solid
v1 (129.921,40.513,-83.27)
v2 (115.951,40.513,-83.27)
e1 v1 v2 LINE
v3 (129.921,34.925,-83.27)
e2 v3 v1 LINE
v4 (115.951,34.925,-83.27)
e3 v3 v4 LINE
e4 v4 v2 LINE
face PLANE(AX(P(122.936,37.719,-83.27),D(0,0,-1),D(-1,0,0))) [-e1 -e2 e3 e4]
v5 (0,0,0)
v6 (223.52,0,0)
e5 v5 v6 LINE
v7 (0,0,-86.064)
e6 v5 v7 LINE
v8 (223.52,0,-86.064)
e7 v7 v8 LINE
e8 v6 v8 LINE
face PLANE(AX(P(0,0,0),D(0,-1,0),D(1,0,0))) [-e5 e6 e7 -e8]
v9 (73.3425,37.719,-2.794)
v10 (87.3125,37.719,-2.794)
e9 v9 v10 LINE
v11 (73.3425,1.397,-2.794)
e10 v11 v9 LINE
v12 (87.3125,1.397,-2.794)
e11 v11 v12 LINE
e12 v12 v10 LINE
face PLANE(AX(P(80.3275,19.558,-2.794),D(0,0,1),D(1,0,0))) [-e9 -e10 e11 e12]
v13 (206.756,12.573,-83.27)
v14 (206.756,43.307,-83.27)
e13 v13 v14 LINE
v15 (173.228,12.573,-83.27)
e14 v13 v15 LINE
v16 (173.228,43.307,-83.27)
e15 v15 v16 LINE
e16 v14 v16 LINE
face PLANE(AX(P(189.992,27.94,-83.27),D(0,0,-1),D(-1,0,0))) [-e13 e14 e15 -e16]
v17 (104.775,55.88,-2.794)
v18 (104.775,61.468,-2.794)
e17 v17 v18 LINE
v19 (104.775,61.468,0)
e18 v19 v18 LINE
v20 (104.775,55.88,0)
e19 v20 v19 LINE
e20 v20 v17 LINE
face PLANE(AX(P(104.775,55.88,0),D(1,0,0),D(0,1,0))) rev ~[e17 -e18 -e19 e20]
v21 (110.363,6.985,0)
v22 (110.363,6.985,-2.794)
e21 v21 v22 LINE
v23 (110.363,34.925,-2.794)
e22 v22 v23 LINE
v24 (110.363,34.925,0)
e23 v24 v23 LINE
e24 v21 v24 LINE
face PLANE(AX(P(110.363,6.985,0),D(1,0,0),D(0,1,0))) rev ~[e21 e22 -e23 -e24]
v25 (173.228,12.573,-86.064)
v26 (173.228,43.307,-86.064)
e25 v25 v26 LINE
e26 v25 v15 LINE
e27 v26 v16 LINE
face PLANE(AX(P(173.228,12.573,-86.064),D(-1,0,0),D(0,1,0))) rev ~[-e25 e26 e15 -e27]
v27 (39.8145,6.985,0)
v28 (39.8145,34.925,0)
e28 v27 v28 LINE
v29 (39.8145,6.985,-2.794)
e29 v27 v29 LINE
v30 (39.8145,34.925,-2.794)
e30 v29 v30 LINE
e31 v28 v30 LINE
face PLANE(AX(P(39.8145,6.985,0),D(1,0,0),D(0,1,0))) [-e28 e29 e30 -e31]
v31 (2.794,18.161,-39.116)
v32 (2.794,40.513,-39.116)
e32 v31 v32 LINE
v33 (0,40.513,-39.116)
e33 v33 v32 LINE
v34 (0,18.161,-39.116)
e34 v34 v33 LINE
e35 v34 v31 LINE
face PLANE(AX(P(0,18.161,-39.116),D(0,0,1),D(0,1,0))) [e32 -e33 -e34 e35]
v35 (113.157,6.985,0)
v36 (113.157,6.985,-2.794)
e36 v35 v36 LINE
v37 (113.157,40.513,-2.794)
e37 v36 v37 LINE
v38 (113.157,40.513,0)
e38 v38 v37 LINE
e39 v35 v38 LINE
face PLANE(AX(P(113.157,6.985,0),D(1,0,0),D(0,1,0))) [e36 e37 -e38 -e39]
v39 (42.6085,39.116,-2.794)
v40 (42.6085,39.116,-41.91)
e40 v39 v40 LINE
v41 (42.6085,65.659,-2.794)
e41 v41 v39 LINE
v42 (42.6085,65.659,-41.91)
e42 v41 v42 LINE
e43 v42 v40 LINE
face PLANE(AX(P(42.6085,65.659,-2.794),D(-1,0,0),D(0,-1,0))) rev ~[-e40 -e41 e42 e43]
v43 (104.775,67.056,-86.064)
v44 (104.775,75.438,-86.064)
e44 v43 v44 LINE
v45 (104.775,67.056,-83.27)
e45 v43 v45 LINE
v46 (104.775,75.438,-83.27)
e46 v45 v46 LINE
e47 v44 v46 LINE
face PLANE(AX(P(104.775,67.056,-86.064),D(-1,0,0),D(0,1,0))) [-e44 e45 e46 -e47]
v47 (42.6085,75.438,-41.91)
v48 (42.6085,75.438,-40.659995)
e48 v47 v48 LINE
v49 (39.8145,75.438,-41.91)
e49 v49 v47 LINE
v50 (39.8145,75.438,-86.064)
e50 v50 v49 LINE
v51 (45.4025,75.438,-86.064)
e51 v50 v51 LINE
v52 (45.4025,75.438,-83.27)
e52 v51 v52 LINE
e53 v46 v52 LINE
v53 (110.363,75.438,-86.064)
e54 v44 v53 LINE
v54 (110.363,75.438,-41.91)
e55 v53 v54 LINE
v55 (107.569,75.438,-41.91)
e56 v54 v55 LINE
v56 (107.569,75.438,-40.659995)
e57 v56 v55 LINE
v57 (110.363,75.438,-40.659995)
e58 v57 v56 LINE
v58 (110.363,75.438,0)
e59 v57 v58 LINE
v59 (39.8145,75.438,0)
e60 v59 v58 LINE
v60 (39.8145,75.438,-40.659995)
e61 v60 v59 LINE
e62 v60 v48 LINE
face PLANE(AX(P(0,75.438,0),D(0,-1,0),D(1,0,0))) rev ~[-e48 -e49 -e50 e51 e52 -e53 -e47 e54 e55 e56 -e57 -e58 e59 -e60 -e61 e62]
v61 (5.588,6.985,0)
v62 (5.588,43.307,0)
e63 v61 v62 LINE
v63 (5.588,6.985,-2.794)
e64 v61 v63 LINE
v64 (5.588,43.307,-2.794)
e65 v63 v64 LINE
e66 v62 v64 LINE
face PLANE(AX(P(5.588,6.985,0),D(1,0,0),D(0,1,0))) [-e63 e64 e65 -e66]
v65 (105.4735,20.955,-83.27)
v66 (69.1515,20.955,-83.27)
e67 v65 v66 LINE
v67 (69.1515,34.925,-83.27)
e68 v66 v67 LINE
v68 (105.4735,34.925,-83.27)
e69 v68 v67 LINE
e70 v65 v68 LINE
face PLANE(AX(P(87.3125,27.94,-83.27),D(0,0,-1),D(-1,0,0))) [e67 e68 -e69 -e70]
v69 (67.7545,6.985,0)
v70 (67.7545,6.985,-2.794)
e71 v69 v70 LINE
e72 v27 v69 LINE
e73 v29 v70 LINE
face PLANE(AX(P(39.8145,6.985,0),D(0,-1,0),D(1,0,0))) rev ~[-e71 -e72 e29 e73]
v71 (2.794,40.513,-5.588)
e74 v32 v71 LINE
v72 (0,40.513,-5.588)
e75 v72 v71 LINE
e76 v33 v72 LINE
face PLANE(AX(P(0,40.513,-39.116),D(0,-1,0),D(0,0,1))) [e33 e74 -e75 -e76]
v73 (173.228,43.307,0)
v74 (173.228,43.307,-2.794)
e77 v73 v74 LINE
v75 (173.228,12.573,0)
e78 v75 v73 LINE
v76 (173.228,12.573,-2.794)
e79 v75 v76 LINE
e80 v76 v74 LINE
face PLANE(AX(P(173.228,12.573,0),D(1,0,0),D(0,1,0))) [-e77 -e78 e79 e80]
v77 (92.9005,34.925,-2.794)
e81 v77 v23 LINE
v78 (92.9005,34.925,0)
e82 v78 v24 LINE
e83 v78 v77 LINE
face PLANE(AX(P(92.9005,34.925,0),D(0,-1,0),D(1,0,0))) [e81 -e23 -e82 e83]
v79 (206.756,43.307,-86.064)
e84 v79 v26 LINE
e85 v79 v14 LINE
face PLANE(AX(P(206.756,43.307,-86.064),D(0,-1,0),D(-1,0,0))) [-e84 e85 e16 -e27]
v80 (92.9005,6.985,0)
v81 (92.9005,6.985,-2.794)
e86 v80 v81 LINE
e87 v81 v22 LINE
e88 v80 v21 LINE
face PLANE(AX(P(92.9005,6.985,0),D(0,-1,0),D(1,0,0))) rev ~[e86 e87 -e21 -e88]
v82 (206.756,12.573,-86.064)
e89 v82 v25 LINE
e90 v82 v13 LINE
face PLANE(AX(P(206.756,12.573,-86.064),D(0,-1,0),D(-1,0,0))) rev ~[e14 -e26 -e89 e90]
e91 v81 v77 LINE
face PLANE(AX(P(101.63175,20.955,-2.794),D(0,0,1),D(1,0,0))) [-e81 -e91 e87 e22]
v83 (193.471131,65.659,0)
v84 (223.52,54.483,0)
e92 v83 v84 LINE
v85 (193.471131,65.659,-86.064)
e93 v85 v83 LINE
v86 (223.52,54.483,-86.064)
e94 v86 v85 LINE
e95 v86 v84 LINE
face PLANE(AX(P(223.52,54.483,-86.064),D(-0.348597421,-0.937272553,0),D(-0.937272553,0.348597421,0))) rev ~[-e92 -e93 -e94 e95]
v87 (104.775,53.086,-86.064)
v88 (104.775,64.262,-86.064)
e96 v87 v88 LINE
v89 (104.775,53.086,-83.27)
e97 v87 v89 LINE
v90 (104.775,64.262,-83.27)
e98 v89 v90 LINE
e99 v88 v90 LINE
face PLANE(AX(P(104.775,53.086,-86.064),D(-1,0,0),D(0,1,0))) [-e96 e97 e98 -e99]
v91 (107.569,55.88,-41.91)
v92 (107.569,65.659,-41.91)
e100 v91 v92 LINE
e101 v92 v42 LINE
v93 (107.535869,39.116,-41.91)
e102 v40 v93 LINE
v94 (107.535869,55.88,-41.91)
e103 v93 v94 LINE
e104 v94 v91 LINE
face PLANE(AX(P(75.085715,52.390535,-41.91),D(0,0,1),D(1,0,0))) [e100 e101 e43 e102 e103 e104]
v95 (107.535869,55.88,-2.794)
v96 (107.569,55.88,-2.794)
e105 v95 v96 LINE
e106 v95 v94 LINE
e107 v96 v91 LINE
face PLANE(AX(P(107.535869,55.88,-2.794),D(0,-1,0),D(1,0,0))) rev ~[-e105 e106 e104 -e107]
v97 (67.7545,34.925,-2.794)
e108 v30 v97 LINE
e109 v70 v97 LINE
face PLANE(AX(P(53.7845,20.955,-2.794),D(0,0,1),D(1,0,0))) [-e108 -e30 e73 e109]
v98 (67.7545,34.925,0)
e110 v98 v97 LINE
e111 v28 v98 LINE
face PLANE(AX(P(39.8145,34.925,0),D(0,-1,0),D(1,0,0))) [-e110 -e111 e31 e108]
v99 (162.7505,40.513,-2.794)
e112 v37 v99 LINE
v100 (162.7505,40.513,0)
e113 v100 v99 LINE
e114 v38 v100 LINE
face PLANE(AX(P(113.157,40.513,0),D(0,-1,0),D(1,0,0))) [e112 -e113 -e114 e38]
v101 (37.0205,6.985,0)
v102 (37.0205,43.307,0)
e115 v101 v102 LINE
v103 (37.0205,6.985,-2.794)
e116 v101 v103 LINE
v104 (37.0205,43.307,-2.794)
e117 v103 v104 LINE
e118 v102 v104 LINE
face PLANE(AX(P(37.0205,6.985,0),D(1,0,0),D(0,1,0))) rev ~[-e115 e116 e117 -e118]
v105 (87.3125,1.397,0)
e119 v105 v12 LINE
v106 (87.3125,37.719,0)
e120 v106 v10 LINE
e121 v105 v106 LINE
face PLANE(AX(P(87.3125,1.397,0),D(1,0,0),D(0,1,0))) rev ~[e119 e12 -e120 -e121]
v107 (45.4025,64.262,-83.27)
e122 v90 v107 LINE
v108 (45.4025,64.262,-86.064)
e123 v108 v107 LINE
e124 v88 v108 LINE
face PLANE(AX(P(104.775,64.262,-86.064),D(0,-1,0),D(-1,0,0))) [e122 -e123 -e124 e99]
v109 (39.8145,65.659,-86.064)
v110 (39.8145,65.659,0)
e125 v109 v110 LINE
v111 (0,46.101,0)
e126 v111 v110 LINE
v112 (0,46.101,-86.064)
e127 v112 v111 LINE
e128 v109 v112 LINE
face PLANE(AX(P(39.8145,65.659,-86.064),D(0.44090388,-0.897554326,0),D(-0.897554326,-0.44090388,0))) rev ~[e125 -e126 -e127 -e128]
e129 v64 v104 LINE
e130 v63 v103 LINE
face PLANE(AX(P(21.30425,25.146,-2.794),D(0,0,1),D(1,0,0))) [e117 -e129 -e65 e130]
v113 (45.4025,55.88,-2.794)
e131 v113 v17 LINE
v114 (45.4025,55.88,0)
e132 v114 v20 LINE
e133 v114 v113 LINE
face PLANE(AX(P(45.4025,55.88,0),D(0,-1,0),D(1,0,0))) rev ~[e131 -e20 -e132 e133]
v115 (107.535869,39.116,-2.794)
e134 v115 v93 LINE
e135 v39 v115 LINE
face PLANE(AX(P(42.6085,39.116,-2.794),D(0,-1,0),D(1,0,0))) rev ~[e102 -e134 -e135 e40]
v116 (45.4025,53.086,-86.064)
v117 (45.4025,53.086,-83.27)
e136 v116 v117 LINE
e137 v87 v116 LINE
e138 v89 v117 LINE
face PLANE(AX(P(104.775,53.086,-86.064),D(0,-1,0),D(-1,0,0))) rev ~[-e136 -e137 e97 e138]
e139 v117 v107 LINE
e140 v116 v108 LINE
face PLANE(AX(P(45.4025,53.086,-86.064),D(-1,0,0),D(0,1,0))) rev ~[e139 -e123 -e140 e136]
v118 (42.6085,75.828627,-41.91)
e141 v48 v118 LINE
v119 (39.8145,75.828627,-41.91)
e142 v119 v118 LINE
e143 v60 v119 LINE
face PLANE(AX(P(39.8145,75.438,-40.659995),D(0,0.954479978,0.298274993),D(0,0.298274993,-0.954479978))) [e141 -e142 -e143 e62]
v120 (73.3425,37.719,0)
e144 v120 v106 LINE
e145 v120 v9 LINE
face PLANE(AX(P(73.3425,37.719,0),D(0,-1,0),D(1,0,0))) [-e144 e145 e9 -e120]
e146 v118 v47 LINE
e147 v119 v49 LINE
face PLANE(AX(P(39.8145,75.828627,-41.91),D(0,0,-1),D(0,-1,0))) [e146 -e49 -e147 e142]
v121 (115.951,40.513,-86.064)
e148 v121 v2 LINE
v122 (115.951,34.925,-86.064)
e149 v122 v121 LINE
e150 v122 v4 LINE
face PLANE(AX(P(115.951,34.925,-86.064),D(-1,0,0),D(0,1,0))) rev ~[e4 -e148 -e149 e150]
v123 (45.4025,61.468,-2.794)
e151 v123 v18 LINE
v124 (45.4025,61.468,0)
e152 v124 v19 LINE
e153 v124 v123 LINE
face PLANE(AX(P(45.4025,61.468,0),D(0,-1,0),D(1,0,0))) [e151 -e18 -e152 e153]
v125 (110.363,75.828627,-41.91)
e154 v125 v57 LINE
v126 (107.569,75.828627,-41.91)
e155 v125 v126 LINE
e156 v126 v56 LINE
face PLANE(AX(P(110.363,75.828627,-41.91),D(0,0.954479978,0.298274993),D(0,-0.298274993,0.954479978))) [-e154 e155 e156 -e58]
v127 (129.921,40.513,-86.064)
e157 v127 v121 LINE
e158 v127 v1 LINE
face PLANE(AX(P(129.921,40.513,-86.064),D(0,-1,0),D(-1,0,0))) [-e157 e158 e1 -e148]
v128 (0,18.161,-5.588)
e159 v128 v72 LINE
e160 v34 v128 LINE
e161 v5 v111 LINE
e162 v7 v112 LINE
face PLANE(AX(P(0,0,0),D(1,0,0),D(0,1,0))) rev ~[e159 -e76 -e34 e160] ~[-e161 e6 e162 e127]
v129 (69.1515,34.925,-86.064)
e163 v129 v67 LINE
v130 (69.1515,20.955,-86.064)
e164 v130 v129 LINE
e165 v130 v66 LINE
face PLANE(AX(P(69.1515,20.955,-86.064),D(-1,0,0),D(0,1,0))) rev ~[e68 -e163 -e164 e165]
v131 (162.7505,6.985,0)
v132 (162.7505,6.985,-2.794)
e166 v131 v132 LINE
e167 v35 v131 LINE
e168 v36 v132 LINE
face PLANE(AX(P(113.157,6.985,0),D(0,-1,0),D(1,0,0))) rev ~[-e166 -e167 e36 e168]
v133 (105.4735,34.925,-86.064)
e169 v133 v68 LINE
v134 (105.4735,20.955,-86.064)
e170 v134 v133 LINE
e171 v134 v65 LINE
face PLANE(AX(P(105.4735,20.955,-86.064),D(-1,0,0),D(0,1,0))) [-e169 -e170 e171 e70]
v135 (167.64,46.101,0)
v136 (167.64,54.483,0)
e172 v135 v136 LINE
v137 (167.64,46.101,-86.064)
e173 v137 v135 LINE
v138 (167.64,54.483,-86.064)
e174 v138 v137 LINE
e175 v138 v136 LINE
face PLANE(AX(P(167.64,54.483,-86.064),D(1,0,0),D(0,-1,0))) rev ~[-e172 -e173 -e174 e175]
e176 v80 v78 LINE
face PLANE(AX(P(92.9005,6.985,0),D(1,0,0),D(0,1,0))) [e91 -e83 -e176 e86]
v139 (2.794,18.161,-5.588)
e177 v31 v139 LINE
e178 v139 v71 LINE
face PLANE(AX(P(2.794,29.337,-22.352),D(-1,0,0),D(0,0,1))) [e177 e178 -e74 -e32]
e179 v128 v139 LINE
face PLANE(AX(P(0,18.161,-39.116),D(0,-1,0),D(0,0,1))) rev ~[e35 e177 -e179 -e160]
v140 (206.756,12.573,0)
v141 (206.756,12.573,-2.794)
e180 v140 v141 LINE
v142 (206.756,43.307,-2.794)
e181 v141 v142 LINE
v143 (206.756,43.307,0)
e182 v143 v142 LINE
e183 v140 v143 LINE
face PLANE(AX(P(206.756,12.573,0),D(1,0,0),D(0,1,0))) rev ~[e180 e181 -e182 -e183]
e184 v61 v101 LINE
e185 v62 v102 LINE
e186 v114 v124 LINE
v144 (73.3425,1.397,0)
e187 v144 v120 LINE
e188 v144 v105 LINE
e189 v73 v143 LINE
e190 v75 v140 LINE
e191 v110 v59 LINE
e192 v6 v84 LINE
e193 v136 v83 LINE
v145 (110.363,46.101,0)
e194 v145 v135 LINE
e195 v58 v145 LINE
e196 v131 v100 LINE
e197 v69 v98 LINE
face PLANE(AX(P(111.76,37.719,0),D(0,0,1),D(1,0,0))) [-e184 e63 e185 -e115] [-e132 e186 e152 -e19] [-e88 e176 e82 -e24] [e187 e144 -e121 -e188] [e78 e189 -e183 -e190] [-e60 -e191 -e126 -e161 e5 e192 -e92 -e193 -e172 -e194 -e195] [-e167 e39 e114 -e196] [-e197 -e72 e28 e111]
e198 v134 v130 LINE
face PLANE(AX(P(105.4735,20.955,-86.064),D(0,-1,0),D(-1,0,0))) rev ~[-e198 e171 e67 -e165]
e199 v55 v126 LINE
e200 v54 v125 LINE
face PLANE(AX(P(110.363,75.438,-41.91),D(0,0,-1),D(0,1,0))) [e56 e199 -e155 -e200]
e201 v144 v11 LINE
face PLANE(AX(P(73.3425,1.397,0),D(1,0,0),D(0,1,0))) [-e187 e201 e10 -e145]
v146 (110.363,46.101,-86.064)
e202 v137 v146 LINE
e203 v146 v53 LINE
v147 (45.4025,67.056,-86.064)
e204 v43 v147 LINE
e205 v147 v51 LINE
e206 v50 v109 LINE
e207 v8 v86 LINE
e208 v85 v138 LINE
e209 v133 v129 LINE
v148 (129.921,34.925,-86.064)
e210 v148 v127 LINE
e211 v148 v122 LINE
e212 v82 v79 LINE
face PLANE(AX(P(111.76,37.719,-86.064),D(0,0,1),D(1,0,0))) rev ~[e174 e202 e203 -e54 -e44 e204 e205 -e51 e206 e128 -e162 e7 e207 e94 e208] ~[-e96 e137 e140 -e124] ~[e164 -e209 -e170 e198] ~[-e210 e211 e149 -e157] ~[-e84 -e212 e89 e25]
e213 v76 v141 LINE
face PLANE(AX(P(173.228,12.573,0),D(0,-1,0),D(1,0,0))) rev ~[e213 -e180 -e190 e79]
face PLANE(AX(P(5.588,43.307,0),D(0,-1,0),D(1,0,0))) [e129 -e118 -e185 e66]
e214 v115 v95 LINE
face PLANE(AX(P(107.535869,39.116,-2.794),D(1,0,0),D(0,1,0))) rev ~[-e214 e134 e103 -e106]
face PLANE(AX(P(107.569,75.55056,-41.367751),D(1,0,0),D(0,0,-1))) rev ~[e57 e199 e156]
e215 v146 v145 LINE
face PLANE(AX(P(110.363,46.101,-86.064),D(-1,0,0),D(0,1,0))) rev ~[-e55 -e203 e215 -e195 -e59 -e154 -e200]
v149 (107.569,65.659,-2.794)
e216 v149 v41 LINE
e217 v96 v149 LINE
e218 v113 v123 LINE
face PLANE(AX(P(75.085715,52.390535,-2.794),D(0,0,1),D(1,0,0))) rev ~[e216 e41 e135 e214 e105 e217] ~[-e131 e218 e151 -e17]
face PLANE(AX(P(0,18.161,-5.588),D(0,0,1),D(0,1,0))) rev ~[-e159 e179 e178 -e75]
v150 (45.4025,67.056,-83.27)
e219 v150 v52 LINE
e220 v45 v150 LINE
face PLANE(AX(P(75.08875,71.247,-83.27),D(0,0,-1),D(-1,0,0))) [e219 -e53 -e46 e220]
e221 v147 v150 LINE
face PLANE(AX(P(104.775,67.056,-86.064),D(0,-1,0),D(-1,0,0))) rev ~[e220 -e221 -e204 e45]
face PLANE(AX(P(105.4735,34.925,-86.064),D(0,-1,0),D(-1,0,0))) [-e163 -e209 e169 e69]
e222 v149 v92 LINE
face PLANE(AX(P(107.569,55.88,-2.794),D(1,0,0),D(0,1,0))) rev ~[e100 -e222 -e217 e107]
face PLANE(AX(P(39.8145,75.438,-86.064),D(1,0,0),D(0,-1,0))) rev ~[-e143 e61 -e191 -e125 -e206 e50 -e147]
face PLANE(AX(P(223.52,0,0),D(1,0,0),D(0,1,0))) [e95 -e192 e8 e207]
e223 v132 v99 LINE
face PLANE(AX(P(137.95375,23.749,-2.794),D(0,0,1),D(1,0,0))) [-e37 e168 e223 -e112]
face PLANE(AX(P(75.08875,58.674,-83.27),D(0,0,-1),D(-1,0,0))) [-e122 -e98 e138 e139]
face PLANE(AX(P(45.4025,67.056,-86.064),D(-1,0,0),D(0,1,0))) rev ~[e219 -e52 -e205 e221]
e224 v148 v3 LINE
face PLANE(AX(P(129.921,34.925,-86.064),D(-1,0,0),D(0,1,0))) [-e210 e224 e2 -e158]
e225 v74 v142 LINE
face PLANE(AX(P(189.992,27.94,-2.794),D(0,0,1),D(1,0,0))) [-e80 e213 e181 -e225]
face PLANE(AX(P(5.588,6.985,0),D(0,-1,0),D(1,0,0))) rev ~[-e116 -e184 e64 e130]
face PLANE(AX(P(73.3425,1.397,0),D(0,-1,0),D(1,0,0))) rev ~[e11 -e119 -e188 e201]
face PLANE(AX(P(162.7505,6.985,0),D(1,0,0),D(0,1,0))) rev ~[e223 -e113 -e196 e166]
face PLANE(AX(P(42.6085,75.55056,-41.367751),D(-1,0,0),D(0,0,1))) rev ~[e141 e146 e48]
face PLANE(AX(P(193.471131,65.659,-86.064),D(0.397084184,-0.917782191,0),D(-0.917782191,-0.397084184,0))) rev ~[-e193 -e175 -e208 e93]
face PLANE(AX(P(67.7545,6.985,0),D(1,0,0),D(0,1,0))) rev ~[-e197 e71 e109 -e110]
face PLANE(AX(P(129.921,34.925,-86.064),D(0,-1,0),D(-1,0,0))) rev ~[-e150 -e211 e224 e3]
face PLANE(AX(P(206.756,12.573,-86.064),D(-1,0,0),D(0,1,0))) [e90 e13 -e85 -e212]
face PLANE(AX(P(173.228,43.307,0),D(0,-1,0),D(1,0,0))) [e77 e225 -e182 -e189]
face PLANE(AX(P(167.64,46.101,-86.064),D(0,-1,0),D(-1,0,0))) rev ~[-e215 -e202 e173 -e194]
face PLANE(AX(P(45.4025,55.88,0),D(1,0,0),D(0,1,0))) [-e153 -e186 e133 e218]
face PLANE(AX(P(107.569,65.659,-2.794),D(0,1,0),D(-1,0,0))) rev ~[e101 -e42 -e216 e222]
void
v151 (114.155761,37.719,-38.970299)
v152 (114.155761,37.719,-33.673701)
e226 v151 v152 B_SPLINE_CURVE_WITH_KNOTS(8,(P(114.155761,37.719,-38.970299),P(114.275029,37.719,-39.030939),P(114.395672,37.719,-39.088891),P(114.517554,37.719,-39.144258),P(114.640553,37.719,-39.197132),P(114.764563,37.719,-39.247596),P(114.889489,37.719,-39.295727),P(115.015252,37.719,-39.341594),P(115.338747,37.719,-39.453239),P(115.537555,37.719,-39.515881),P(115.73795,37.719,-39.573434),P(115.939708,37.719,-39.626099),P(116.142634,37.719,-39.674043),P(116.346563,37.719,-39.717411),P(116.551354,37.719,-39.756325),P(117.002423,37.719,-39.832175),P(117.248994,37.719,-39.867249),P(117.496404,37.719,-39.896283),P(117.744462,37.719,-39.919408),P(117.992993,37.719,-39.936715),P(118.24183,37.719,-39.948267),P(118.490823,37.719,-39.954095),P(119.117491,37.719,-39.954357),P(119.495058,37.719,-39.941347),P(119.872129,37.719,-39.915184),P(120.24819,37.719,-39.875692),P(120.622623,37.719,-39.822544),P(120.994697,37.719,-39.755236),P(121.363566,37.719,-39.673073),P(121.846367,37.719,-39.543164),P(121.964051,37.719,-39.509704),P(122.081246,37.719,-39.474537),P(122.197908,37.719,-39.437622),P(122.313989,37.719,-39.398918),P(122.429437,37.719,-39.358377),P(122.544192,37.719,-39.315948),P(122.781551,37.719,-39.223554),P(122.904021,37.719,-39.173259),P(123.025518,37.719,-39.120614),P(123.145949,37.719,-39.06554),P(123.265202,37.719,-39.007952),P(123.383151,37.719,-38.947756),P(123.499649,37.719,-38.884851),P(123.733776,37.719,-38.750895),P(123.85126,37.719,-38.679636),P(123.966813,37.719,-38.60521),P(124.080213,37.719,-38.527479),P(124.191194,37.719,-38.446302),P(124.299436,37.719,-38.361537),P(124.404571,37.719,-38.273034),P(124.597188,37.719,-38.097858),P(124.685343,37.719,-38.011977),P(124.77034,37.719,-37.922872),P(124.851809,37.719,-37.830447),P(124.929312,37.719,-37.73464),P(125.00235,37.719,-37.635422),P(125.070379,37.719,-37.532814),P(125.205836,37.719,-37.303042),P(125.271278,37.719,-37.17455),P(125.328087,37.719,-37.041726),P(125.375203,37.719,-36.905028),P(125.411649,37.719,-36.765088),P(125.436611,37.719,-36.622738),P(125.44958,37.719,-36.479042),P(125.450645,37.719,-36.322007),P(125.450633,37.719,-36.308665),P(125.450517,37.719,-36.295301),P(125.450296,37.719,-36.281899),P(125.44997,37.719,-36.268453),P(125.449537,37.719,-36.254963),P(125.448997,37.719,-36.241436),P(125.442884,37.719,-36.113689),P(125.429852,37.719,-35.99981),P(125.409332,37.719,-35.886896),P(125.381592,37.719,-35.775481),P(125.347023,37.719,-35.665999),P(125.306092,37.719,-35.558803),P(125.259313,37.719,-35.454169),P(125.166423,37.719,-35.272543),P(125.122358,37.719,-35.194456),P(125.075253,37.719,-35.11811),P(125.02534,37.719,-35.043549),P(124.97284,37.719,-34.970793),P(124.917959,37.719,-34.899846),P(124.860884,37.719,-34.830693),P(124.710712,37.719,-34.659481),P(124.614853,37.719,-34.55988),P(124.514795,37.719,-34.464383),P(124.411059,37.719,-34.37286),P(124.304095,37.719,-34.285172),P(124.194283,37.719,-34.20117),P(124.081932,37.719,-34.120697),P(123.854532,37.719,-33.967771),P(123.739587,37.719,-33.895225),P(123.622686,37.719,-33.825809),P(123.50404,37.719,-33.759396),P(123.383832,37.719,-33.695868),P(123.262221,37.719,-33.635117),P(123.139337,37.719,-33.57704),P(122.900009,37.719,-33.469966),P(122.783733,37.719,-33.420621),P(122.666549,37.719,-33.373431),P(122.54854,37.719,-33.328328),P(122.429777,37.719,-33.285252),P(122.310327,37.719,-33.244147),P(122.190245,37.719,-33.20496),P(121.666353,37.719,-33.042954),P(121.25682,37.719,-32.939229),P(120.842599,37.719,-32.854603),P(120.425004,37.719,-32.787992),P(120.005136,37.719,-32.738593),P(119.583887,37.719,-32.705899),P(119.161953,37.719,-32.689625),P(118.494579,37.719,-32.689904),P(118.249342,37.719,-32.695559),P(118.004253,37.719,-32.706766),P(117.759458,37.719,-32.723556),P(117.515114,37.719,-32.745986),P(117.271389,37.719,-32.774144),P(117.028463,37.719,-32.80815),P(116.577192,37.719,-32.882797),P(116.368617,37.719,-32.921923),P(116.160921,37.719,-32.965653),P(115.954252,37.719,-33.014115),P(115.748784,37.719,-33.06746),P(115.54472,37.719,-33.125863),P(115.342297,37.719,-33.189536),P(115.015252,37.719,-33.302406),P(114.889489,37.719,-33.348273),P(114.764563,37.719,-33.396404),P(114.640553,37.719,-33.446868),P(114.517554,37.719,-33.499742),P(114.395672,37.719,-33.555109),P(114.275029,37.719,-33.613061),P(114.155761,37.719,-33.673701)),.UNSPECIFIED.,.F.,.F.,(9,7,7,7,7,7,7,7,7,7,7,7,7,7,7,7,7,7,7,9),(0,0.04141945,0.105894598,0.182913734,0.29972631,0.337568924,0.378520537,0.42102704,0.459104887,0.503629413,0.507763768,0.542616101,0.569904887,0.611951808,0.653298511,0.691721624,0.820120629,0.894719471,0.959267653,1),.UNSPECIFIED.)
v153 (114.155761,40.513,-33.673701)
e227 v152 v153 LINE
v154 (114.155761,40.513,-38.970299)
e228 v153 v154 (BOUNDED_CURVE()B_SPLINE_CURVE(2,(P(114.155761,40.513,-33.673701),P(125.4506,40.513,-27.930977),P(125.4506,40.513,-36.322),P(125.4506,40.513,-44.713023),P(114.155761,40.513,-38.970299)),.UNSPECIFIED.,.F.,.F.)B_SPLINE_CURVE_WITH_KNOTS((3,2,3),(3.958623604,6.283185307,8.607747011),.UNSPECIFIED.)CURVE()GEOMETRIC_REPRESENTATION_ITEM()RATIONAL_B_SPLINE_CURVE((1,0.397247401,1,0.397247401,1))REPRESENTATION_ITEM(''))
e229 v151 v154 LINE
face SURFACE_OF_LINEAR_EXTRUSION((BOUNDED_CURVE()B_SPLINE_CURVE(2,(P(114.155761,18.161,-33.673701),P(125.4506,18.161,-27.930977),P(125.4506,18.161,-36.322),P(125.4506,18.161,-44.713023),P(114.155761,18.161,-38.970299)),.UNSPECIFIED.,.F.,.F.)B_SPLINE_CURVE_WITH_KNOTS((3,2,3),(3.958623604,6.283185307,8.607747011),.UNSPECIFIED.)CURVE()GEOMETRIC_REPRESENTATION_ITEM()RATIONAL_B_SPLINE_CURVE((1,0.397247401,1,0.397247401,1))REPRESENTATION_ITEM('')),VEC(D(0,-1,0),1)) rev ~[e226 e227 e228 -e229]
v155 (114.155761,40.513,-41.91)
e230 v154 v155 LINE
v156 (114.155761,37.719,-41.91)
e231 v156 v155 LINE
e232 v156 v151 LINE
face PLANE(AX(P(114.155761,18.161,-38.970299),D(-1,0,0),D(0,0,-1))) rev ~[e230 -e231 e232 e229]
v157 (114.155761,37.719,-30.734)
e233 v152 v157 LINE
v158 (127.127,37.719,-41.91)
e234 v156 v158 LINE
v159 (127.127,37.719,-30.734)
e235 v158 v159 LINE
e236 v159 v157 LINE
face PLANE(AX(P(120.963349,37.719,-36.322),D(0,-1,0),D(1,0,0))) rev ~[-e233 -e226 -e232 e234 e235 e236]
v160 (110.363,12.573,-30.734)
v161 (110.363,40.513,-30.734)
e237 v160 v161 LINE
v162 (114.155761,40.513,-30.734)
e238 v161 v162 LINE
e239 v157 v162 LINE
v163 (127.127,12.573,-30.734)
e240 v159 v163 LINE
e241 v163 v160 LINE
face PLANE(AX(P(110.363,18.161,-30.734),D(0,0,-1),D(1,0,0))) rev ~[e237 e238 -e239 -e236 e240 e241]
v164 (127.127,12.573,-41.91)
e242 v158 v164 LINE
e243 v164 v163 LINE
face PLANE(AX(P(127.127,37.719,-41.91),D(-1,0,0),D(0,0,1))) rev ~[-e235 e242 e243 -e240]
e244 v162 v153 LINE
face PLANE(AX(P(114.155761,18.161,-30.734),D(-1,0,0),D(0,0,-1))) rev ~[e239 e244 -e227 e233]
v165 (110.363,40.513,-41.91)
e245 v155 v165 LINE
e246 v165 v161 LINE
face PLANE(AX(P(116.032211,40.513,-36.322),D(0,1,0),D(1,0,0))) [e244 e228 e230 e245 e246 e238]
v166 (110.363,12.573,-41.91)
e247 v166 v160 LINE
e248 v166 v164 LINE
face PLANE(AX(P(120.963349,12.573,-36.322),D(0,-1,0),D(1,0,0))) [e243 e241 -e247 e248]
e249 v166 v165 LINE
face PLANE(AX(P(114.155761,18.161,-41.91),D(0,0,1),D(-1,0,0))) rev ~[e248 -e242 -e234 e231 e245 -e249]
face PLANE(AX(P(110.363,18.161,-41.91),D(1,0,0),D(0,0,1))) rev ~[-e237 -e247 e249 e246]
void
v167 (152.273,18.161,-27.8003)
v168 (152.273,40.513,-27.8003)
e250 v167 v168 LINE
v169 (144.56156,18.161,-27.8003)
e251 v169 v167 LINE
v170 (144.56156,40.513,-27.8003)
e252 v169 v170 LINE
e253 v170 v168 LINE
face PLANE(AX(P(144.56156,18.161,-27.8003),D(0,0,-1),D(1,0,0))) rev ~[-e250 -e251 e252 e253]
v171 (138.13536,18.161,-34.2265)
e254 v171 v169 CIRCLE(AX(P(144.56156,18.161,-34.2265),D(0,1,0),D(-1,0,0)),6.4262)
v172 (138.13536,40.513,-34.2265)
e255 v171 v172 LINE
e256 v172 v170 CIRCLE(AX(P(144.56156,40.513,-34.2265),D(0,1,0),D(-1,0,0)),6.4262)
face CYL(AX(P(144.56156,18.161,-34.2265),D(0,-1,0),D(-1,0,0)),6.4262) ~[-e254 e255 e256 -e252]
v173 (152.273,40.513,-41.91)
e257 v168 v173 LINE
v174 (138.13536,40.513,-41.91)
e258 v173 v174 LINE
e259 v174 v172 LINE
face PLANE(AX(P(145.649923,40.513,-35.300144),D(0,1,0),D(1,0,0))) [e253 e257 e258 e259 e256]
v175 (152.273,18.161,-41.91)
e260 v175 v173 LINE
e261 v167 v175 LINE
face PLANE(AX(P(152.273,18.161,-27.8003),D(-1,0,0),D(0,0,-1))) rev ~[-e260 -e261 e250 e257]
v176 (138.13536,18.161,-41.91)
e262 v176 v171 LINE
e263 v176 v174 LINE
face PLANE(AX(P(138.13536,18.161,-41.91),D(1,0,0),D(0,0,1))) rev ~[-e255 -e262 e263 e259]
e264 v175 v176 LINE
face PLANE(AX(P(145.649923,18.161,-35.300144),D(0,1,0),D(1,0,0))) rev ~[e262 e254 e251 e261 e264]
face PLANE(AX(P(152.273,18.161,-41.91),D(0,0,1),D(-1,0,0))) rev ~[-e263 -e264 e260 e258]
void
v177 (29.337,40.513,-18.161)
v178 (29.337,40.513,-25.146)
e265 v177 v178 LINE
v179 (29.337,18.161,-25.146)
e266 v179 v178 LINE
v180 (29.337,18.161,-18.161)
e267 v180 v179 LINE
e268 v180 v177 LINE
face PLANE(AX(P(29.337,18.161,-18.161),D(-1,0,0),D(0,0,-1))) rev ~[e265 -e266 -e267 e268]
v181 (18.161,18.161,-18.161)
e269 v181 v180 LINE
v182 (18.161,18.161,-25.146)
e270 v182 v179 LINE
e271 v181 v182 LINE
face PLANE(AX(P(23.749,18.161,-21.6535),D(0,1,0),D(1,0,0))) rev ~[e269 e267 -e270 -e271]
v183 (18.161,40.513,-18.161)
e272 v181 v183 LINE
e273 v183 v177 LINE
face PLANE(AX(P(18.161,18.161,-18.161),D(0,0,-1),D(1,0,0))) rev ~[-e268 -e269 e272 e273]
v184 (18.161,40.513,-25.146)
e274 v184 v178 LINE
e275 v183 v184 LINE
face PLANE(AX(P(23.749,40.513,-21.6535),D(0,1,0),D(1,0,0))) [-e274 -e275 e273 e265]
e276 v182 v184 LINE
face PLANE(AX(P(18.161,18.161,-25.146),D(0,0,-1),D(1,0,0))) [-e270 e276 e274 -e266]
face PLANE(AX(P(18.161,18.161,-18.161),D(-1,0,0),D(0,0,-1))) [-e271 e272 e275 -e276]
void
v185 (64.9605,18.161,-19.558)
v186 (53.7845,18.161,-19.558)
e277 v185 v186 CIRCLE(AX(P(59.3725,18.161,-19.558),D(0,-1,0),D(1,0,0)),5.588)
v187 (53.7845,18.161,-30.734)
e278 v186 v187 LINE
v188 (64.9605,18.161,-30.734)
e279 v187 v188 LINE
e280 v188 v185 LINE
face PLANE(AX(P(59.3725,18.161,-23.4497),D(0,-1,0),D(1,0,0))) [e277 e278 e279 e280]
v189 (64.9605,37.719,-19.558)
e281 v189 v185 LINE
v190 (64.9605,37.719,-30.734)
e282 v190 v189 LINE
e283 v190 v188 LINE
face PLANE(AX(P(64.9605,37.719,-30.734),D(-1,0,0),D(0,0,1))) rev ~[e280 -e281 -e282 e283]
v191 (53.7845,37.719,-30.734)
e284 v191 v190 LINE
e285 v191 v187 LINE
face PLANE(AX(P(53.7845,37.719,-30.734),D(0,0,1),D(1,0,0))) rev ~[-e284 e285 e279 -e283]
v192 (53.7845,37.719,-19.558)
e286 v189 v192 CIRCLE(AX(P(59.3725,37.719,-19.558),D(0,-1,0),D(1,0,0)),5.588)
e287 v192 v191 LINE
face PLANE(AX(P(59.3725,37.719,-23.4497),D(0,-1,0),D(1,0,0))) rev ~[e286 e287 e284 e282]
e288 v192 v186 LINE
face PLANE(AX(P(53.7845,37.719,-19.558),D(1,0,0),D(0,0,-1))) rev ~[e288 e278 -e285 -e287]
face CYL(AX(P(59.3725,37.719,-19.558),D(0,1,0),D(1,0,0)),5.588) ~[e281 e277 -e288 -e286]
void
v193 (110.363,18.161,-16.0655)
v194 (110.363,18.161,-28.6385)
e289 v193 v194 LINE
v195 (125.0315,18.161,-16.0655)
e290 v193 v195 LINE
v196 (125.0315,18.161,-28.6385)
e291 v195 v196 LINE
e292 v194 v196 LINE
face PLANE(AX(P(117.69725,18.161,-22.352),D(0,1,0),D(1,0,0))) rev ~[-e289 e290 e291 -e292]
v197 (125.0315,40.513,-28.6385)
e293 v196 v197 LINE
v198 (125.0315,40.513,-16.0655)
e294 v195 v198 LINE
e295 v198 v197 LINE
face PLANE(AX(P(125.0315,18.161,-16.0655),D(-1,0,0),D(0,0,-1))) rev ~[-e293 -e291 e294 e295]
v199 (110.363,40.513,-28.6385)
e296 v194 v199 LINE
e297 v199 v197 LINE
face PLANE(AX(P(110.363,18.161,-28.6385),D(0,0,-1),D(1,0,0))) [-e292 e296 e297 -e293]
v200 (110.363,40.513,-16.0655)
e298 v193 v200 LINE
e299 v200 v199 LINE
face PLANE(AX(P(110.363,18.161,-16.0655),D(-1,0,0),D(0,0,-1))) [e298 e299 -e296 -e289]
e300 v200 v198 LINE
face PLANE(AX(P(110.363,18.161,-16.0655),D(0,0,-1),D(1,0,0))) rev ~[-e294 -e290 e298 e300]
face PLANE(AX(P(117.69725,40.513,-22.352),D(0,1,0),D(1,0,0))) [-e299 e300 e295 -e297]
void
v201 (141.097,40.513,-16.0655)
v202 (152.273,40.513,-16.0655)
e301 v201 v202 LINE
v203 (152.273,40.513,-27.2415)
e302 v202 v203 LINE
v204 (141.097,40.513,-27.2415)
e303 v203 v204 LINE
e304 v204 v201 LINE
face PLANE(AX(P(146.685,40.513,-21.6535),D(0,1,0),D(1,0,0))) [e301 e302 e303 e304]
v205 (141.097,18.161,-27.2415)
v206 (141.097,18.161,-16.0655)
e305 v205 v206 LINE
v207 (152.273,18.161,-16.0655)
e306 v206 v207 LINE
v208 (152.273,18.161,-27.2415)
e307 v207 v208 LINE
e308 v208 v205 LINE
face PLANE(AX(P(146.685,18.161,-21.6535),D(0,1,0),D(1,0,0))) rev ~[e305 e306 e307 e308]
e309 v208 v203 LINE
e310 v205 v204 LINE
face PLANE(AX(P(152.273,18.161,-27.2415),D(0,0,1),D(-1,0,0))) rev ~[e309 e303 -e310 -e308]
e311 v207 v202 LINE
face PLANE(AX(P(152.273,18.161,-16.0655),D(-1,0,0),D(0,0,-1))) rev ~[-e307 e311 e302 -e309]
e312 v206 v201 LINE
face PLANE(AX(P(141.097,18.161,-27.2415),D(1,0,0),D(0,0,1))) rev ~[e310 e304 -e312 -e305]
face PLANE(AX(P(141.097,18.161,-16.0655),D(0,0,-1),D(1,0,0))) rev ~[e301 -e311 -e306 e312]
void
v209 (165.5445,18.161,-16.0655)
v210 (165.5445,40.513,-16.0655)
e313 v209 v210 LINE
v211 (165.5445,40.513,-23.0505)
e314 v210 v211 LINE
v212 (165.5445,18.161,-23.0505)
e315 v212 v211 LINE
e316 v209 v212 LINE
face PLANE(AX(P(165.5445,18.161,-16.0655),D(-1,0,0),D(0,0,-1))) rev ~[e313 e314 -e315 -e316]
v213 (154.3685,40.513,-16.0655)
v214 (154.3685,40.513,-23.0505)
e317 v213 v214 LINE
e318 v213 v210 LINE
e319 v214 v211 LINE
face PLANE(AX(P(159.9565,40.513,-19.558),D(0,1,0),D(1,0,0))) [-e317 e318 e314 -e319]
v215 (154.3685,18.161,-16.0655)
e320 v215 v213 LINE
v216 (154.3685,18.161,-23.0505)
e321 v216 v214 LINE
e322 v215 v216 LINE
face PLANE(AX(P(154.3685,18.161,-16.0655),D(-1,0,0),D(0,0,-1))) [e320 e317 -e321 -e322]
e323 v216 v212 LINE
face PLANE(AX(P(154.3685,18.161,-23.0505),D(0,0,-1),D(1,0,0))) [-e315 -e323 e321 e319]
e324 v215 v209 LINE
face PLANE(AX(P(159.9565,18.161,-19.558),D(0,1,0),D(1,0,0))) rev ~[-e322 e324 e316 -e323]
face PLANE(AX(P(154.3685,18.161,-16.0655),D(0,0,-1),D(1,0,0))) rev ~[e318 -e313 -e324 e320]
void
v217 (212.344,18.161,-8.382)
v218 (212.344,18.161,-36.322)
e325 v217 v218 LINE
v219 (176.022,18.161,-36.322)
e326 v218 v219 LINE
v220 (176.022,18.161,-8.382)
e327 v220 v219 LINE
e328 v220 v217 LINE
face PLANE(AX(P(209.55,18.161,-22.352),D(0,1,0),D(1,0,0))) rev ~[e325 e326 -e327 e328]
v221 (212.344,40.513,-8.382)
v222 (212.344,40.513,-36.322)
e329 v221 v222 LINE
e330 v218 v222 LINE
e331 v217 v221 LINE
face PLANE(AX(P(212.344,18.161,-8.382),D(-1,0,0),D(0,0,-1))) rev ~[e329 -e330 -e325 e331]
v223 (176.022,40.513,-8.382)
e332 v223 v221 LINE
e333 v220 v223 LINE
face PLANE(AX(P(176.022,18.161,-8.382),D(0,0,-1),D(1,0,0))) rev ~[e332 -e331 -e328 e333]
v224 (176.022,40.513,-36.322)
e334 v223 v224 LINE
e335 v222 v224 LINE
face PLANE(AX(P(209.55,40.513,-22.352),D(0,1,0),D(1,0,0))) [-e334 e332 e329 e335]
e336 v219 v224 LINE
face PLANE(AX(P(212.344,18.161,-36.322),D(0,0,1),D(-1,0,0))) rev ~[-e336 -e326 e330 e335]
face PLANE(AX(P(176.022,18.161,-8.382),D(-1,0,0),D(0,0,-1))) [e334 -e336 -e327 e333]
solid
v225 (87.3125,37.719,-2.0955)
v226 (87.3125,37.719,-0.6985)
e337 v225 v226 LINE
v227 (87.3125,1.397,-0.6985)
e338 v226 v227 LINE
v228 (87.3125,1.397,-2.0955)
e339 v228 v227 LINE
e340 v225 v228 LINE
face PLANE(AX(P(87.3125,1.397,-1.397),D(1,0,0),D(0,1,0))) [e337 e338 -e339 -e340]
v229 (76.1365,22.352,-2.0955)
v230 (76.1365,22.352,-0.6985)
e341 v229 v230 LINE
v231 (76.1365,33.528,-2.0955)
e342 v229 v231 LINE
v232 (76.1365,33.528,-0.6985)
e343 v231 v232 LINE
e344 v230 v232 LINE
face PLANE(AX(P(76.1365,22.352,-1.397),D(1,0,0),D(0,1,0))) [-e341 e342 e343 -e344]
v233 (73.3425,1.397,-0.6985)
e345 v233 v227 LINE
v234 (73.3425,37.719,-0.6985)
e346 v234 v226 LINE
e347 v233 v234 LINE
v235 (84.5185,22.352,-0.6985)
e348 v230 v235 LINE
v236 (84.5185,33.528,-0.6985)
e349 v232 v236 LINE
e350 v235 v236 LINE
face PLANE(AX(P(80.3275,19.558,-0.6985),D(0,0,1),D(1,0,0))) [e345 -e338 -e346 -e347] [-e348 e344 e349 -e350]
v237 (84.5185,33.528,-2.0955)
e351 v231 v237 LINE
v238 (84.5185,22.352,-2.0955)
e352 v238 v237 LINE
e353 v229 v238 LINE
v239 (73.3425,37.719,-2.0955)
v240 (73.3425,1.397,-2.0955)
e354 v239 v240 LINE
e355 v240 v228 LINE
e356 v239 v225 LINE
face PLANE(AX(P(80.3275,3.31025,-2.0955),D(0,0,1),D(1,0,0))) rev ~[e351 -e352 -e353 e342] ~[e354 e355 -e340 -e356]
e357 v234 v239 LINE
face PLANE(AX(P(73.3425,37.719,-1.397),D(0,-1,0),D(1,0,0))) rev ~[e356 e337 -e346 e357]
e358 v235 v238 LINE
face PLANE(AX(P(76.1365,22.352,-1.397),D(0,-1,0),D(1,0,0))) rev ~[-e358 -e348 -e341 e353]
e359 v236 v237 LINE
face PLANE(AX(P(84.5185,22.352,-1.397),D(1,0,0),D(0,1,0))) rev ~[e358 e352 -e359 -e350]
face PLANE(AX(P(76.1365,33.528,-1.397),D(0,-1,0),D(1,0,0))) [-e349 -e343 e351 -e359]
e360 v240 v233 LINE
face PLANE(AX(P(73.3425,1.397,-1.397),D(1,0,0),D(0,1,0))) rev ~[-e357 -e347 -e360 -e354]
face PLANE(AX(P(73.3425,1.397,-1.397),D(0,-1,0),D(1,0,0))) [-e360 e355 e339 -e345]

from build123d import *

# Parameters (mm, degrees)
SKETCH1_W            = 1016
SKETCH1_H            = 342.9
BOSS_EXTRUDE1_DEPTH  = 391.2
CUT_EXTRUDE1_DEPTH   = 1142.434995959
FRONT_W              = 142.875
FRONT_H              = 165.1
FRONT_W_2            = 79.375
FRONT_H_2            = 127
FRONT_W_3            = 63.5
FRONT_W_4            = 127
FRONT_W_5            = 269.875
FRONT_H_3            = 25.4
FRONT_W_6            = 152.4
FRONT_H_4            = 139.7
FRONT_W_7            = 225.425
FRONT_H_5            = 152.4
CUT_EXTRUDE4_DEPTH   = 12.7
RIGHT_W              = 152.4
RIGHT_H              = 101.6
CUT_EXTRUDE5_DEPTH   = 12.7
BACK_3_W             = 269.875
BACK_3_H             = 38.1
BACK_3_W_2           = 152.4
BACK_3_H_2           = 139.7
BACK_3_W_3           = 165.1
BACK_3_H_3           = 63.5
BACK_3_H_4           = 50.8
BACK_3_W_4           = 63.5
BACK_3_H_5           = 25.4
CUT_EXTRUDE6_DEPTH   = 12.7
CUT_EXTRUDE12_START  = 76.2
SKETCH19_W           = 50.8
SKETCH19_H           = 31.75
SKETCH19_H_2         = 50.8
SKETCH19_W_2         = 165.1
SKETCH19_H_3         = 127
SKETCH19_W_3         = 66.675
SKETCH19_H_4         = 57.15
CUT_EXTRUDE12_DEPTH  = 101.6
TOP_ROOM_DEPTH       = 177.8
TOPSAIDE_DEPTH       = 12.7
TOPSIDE_DEPTH        = 12.7
SKETCH42_W           = 50.8
SKETCH42_H           = 31.75
TABLE_DEPTH          = 50.8
CUT_EXTRUDE35_START  = 88.9
SKETCH31_W           = 50.8
SKETCH31_H           = 31.75
SKETCH31_H_2         = 50.8
SKETCH31_W_2         = 66.675
SKETCH31_H_3         = 57.15
CUT_EXTRUDE35_DEPTH  = 88.9
SKETCH31_7_W         = 76.2
SKETCH31_7_H         = 50.8
CUT_EXTRUDE36_DEPTH  = 114.3
BOSS_EXTRUDE30_START = -6.35
SKETCH76_W           = 63.5
SKETCH76_H           = 165.1
SKETCH76_W_2         = 38.1
SKETCH76_H_2         = 50.8
BOSS_EXTRUDE30_DEPTH = 3.175
SCALE7_SCALE         = 0.25
SCALE8_SCALE         = 0.8
SCALE9_SCALE         = 1.1


with BuildPart() as part:
    # Sketch1 → Boss-Extrude1 (new body)
    with BuildSketch(Plane.XY):
        with Locations((508, 171.45)):
            Rectangle(SKETCH1_W, SKETCH1_H)
    extrude(amount=-BOSS_EXTRUDE1_DEPTH)

    # Back → Cut-Extrude1 (cut, through all)
    with BuildSketch(Plane(origin=(0, 0, -391.2), x_dir=(-1, 0, 0), z_dir=(0, 0, -1))):
        Polygon((0, 342.9), (-180.975, 342.9), (-180.975, 298.45), (0, 209.55), align=None)
        Polygon((-501.65, 209.55), (-501.65, 342.9), (-1016, 342.9), (-1016, 247.65), (-879.414234058, 298.45), (-762, 247.65), (-762, 209.55), align=None)
    extrude(amount=-CUT_EXTRUDE1_DEPTH, mode=Mode.SUBTRACT)

    # Front → Cut-Extrude4 (cut)
    with BuildSketch(Plane.XY):
        with Locations((96.8375, 114.3)):
            Rectangle(FRONT_W, FRONT_H)
        with Locations((461.9625, 95.25)):
            Rectangle(FRONT_W_2, FRONT_H_2)
        with Locations((365.125, 88.9)):
            Rectangle(FRONT_W_3, FRONT_H)
        with Locations((244.475, 95.25)):
            Rectangle(FRONT_W_4, FRONT_H_2)
        with Locations((341.3125, 266.7)):
            Rectangle(FRONT_W_5, FRONT_H_3)
        with Locations((863.6, 127)):
            Rectangle(FRONT_W_6, FRONT_H_4)
        with Locations((627.0625, 107.95)):
            Rectangle(FRONT_W_7, FRONT_H_5)
    extrude(amount=-CUT_EXTRUDE4_DEPTH, mode=Mode.SUBTRACT)

    # Right → Cut-Extrude5 (cut)
    with BuildSketch(Plane.ZY):
        with Locations((-101.6, 133.35)):
            Rectangle(RIGHT_W, RIGHT_H)
    extrude(amount=-CUT_EXTRUDE5_DEPTH, mode=Mode.SUBTRACT)

    # Back<3> → Cut-Extrude6 (cut)
    with BuildSketch(Plane(origin=(0, 0, -391.2), x_dir=(-1, 0, 0), z_dir=(0, 0, -1))):
        with Locations((-341.3125, 323.85)):
            Rectangle(BACK_3_W, BACK_3_H)
        with Locations((-863.6, 127)):
            Rectangle(BACK_3_W_2, BACK_3_H_2)
        with Locations((-396.875, 127)):
            Rectangle(BACK_3_W_3, BACK_3_H_3)
        with Locations((-341.3125, 266.7)):
            Rectangle(BACK_3_W, BACK_3_H_4)
        with Locations((-558.8, 171.45)):
            Rectangle(BACK_3_W_4, BACK_3_H_5)
    extrude(amount=-CUT_EXTRUDE6_DEPTH, mode=Mode.SUBTRACT)

    # Sketch19 → Cut-Extrude12 (cut)
    with BuildSketch(Plane(origin=(0, 6.35, 0), x_dir=(1, 0, 0), z_dir=(0, 1, 0)).offset(CUT_EXTRUDE12_START)):
        with Locations((107.95, 98.425)):
            Rectangle(SKETCH19_W, SKETCH19_H)
        with BuildLine():
            Line((501.65, 139.7), (518.88982311, 139.7))
            Line((518.88982311, 139.7), (518.88982311, 153.062277318))
            add(Edge.make_bspline(
                [(518.88982311, 153.062277318), (570.23, 126.95898814), (570.23, 165.1), (570.23, 203.24101186), (518.88982311, 177.137722682)],
                knots=[3.958623604, 3.958623604, 3.958623604, 6.283185307, 6.283185307, 8.607747011, 8.607747011, 8.607747011], degree=2, weights=[1, 0.397247401, 1, 0.397247401, 1]))
            Line((518.88982311, 177.137722682), (518.88982311, 190.5))
            Line((518.88982311, 190.5), (501.65, 190.5))
            Line((501.65, 190.5), (501.65, 139.7))
        make_face()
        with BuildLine():
            Line((692.15, 126.365), (692.15, 190.5))
            Line((692.15, 190.5), (627.888, 190.5))
            Line((627.888, 190.5), (627.888, 155.575))
            ThreePointArc((627.888, 155.575), (636.443410922, 134.920410922), (657.098, 126.365))
            Line((657.098, 126.365), (692.15, 126.365))
        make_face()
        with Locations((666.75, 98.425)):
            Rectangle(SKETCH19_W, SKETCH19_H_2)
        with Locations((727.075, 88.9)):
            Rectangle(SKETCH19_W, SKETCH19_H)
        with Locations((882.65, 101.6)):
            Rectangle(SKETCH19_W_2, SKETCH19_H_3)
        with Locations((534.9875, 101.6)):
            Rectangle(SKETCH19_W_3, SKETCH19_H_4)
    extrude(amount=CUT_EXTRUDE12_DEPTH, mode=Mode.SUBTRACT)

    # Sketch36 → top room (cut)
    with BuildSketch(Plane.XY.offset(-12.7)):
        Polygon((488.799405704, 177.8), (488.799405704, 254), (488.95, 254), (488.95, 298.45), (193.675, 298.45), (193.675, 177.8), align=None)
    extrude(amount=-TOP_ROOM_DEPTH, mode=Mode.SUBTRACT)

    # Sketch39 → topsaide (add)
    with BuildSketch(Plane.ZY.offset(-180.975)):
        Polygon((-190.5, 344.6755754), (-190.5, 342.9), (-184.81815872, 342.9), align=None)
    extrude(amount=-TOPSAIDE_DEPTH)

    # Sketch40 → topside (add)
    with BuildSketch(Plane(origin=(501.65, 0, 0), x_dir=(0, 0, -1), z_dir=(1, 0, 0))):
        Polygon((184.81815872, 342.9), (190.5, 342.9), (190.5, 344.6755754), align=None)
    extrude(amount=-TOPSIDE_DEPTH)

    # Sketch42 → table (add)
    with BuildSketch(Plane(origin=(0, 6.35, 0), x_dir=(1, 0, 0), z_dir=(0, 1, 0))):
        with Locations((107.95, 98.425)):
            Rectangle(SKETCH42_W, SKETCH42_H)
    extrude(amount=TABLE_DEPTH)

    # Sketch31 → Cut-Extrude35 (cut)
    with BuildSketch(Plane.XZ.offset(-171.45).offset(CUT_EXTRUDE35_START)):
        with Locations((727.075, -88.9)):
            Rectangle(SKETCH31_W, SKETCH31_H)
        with Locations((666.75, -98.425)):
            Rectangle(SKETCH31_W, SKETCH31_H_2)
        with BuildLine():
            Line((692.15, -190.5), (692.15, -126.365))
            Line((692.15, -126.365), (657.098, -126.365))
            ThreePointArc((657.098, -126.365), (636.443410922, -134.920410922), (627.888, -155.575))
            Line((627.888, -155.575), (627.888, -190.5))
            Line((627.888, -190.5), (692.15, -190.5))
        make_face()
        with BuildLine():
            Line((501.65, -190.5), (518.88982311, -190.5))
            Line((518.88982311, -190.5), (518.88982311, -177.137722682))
            add(Edge.make_bspline(
                [(518.88982311, -177.137722682), (570.23, -203.24101186), (570.23, -165.1), (570.23, -126.95898814), (518.88982311, -153.062277318)],
                knots=[3.958623604, 3.958623604, 3.958623604, 6.283185307, 6.283185307, 8.607747011, 8.607747011, 8.607747011], degree=2, weights=[1, 0.397247401, 1, 0.397247401, 1]))
            Line((518.88982311, -153.062277318), (518.88982311, -139.7))
            Line((518.88982311, -139.7), (501.65, -139.7))
            Line((501.65, -139.7), (501.65, -190.5))
        make_face()
        with BuildLine():
            Line((244.475, -88.9), (244.475, -139.7))
            Line((244.475, -139.7), (295.275, -139.7))
            Line((295.275, -139.7), (295.275, -88.9))
            ThreePointArc((295.275, -88.9), (269.875, -63.5), (244.475, -88.9))
        make_face()
        with Locations((534.9875, -101.6)):
            Rectangle(SKETCH31_W_2, SKETCH31_H_3)
    extrude(amount=-CUT_EXTRUDE35_DEPTH, mode=Mode.SUBTRACT)

    # Sketch31<7> → Cut-Extrude36 (cut)
    with BuildSketch(Plane.XZ.offset(-171.45)):
        with Locations((539.75, -165.1)):
            Rectangle(SKETCH31_7_W, SKETCH31_7_H)
    extrude(amount=CUT_EXTRUDE36_DEPTH, mode=Mode.SUBTRACT)


with BuildPart() as body_2:
    # Sketch76 → Boss-Extrude30 (new, symmetric)
    with BuildSketch(Plane.XY.offset(BOSS_EXTRUDE30_START)):
        with Locations((365.125, 88.9)):
            Rectangle(SKETCH76_W, SKETCH76_H)
        with Locations((365.125, 127)):
            Rectangle(SKETCH76_W_2, SKETCH76_H_2, mode=Mode.SUBTRACT)
    extrude(amount=BOSS_EXTRUDE30_DEPTH, both=True)


with BuildPart() as body_2_1:
    # Scale7: scaled about (0, 0, 0)
    add(body_2.part.scale(SCALE7_SCALE))


with BuildPart() as part_1:
    # Scale7: scaled about (0, 0, 0)
    add(part.part.scale(SCALE7_SCALE))


with BuildPart() as part_2:
    # Scale8: scaled about (0, 0, 0)
    add(part_1.part.scale(SCALE8_SCALE))


with BuildPart() as body_2_2:
    # Scale8: scaled about (0, 0, 0)
    add(body_2_1.part.scale(SCALE8_SCALE))


with BuildPart() as part_3:
    # Scale9: scaled about (0, 0, 0)
    add(part_2.part.scale(SCALE9_SCALE))


with BuildPart() as body_2_3:
    # Scale9: scaled about (0, 0, 0)
    add(body_2_2.part.scale(SCALE9_SCALE))


solid = Compound([part_3.part, body_2_3.part])
